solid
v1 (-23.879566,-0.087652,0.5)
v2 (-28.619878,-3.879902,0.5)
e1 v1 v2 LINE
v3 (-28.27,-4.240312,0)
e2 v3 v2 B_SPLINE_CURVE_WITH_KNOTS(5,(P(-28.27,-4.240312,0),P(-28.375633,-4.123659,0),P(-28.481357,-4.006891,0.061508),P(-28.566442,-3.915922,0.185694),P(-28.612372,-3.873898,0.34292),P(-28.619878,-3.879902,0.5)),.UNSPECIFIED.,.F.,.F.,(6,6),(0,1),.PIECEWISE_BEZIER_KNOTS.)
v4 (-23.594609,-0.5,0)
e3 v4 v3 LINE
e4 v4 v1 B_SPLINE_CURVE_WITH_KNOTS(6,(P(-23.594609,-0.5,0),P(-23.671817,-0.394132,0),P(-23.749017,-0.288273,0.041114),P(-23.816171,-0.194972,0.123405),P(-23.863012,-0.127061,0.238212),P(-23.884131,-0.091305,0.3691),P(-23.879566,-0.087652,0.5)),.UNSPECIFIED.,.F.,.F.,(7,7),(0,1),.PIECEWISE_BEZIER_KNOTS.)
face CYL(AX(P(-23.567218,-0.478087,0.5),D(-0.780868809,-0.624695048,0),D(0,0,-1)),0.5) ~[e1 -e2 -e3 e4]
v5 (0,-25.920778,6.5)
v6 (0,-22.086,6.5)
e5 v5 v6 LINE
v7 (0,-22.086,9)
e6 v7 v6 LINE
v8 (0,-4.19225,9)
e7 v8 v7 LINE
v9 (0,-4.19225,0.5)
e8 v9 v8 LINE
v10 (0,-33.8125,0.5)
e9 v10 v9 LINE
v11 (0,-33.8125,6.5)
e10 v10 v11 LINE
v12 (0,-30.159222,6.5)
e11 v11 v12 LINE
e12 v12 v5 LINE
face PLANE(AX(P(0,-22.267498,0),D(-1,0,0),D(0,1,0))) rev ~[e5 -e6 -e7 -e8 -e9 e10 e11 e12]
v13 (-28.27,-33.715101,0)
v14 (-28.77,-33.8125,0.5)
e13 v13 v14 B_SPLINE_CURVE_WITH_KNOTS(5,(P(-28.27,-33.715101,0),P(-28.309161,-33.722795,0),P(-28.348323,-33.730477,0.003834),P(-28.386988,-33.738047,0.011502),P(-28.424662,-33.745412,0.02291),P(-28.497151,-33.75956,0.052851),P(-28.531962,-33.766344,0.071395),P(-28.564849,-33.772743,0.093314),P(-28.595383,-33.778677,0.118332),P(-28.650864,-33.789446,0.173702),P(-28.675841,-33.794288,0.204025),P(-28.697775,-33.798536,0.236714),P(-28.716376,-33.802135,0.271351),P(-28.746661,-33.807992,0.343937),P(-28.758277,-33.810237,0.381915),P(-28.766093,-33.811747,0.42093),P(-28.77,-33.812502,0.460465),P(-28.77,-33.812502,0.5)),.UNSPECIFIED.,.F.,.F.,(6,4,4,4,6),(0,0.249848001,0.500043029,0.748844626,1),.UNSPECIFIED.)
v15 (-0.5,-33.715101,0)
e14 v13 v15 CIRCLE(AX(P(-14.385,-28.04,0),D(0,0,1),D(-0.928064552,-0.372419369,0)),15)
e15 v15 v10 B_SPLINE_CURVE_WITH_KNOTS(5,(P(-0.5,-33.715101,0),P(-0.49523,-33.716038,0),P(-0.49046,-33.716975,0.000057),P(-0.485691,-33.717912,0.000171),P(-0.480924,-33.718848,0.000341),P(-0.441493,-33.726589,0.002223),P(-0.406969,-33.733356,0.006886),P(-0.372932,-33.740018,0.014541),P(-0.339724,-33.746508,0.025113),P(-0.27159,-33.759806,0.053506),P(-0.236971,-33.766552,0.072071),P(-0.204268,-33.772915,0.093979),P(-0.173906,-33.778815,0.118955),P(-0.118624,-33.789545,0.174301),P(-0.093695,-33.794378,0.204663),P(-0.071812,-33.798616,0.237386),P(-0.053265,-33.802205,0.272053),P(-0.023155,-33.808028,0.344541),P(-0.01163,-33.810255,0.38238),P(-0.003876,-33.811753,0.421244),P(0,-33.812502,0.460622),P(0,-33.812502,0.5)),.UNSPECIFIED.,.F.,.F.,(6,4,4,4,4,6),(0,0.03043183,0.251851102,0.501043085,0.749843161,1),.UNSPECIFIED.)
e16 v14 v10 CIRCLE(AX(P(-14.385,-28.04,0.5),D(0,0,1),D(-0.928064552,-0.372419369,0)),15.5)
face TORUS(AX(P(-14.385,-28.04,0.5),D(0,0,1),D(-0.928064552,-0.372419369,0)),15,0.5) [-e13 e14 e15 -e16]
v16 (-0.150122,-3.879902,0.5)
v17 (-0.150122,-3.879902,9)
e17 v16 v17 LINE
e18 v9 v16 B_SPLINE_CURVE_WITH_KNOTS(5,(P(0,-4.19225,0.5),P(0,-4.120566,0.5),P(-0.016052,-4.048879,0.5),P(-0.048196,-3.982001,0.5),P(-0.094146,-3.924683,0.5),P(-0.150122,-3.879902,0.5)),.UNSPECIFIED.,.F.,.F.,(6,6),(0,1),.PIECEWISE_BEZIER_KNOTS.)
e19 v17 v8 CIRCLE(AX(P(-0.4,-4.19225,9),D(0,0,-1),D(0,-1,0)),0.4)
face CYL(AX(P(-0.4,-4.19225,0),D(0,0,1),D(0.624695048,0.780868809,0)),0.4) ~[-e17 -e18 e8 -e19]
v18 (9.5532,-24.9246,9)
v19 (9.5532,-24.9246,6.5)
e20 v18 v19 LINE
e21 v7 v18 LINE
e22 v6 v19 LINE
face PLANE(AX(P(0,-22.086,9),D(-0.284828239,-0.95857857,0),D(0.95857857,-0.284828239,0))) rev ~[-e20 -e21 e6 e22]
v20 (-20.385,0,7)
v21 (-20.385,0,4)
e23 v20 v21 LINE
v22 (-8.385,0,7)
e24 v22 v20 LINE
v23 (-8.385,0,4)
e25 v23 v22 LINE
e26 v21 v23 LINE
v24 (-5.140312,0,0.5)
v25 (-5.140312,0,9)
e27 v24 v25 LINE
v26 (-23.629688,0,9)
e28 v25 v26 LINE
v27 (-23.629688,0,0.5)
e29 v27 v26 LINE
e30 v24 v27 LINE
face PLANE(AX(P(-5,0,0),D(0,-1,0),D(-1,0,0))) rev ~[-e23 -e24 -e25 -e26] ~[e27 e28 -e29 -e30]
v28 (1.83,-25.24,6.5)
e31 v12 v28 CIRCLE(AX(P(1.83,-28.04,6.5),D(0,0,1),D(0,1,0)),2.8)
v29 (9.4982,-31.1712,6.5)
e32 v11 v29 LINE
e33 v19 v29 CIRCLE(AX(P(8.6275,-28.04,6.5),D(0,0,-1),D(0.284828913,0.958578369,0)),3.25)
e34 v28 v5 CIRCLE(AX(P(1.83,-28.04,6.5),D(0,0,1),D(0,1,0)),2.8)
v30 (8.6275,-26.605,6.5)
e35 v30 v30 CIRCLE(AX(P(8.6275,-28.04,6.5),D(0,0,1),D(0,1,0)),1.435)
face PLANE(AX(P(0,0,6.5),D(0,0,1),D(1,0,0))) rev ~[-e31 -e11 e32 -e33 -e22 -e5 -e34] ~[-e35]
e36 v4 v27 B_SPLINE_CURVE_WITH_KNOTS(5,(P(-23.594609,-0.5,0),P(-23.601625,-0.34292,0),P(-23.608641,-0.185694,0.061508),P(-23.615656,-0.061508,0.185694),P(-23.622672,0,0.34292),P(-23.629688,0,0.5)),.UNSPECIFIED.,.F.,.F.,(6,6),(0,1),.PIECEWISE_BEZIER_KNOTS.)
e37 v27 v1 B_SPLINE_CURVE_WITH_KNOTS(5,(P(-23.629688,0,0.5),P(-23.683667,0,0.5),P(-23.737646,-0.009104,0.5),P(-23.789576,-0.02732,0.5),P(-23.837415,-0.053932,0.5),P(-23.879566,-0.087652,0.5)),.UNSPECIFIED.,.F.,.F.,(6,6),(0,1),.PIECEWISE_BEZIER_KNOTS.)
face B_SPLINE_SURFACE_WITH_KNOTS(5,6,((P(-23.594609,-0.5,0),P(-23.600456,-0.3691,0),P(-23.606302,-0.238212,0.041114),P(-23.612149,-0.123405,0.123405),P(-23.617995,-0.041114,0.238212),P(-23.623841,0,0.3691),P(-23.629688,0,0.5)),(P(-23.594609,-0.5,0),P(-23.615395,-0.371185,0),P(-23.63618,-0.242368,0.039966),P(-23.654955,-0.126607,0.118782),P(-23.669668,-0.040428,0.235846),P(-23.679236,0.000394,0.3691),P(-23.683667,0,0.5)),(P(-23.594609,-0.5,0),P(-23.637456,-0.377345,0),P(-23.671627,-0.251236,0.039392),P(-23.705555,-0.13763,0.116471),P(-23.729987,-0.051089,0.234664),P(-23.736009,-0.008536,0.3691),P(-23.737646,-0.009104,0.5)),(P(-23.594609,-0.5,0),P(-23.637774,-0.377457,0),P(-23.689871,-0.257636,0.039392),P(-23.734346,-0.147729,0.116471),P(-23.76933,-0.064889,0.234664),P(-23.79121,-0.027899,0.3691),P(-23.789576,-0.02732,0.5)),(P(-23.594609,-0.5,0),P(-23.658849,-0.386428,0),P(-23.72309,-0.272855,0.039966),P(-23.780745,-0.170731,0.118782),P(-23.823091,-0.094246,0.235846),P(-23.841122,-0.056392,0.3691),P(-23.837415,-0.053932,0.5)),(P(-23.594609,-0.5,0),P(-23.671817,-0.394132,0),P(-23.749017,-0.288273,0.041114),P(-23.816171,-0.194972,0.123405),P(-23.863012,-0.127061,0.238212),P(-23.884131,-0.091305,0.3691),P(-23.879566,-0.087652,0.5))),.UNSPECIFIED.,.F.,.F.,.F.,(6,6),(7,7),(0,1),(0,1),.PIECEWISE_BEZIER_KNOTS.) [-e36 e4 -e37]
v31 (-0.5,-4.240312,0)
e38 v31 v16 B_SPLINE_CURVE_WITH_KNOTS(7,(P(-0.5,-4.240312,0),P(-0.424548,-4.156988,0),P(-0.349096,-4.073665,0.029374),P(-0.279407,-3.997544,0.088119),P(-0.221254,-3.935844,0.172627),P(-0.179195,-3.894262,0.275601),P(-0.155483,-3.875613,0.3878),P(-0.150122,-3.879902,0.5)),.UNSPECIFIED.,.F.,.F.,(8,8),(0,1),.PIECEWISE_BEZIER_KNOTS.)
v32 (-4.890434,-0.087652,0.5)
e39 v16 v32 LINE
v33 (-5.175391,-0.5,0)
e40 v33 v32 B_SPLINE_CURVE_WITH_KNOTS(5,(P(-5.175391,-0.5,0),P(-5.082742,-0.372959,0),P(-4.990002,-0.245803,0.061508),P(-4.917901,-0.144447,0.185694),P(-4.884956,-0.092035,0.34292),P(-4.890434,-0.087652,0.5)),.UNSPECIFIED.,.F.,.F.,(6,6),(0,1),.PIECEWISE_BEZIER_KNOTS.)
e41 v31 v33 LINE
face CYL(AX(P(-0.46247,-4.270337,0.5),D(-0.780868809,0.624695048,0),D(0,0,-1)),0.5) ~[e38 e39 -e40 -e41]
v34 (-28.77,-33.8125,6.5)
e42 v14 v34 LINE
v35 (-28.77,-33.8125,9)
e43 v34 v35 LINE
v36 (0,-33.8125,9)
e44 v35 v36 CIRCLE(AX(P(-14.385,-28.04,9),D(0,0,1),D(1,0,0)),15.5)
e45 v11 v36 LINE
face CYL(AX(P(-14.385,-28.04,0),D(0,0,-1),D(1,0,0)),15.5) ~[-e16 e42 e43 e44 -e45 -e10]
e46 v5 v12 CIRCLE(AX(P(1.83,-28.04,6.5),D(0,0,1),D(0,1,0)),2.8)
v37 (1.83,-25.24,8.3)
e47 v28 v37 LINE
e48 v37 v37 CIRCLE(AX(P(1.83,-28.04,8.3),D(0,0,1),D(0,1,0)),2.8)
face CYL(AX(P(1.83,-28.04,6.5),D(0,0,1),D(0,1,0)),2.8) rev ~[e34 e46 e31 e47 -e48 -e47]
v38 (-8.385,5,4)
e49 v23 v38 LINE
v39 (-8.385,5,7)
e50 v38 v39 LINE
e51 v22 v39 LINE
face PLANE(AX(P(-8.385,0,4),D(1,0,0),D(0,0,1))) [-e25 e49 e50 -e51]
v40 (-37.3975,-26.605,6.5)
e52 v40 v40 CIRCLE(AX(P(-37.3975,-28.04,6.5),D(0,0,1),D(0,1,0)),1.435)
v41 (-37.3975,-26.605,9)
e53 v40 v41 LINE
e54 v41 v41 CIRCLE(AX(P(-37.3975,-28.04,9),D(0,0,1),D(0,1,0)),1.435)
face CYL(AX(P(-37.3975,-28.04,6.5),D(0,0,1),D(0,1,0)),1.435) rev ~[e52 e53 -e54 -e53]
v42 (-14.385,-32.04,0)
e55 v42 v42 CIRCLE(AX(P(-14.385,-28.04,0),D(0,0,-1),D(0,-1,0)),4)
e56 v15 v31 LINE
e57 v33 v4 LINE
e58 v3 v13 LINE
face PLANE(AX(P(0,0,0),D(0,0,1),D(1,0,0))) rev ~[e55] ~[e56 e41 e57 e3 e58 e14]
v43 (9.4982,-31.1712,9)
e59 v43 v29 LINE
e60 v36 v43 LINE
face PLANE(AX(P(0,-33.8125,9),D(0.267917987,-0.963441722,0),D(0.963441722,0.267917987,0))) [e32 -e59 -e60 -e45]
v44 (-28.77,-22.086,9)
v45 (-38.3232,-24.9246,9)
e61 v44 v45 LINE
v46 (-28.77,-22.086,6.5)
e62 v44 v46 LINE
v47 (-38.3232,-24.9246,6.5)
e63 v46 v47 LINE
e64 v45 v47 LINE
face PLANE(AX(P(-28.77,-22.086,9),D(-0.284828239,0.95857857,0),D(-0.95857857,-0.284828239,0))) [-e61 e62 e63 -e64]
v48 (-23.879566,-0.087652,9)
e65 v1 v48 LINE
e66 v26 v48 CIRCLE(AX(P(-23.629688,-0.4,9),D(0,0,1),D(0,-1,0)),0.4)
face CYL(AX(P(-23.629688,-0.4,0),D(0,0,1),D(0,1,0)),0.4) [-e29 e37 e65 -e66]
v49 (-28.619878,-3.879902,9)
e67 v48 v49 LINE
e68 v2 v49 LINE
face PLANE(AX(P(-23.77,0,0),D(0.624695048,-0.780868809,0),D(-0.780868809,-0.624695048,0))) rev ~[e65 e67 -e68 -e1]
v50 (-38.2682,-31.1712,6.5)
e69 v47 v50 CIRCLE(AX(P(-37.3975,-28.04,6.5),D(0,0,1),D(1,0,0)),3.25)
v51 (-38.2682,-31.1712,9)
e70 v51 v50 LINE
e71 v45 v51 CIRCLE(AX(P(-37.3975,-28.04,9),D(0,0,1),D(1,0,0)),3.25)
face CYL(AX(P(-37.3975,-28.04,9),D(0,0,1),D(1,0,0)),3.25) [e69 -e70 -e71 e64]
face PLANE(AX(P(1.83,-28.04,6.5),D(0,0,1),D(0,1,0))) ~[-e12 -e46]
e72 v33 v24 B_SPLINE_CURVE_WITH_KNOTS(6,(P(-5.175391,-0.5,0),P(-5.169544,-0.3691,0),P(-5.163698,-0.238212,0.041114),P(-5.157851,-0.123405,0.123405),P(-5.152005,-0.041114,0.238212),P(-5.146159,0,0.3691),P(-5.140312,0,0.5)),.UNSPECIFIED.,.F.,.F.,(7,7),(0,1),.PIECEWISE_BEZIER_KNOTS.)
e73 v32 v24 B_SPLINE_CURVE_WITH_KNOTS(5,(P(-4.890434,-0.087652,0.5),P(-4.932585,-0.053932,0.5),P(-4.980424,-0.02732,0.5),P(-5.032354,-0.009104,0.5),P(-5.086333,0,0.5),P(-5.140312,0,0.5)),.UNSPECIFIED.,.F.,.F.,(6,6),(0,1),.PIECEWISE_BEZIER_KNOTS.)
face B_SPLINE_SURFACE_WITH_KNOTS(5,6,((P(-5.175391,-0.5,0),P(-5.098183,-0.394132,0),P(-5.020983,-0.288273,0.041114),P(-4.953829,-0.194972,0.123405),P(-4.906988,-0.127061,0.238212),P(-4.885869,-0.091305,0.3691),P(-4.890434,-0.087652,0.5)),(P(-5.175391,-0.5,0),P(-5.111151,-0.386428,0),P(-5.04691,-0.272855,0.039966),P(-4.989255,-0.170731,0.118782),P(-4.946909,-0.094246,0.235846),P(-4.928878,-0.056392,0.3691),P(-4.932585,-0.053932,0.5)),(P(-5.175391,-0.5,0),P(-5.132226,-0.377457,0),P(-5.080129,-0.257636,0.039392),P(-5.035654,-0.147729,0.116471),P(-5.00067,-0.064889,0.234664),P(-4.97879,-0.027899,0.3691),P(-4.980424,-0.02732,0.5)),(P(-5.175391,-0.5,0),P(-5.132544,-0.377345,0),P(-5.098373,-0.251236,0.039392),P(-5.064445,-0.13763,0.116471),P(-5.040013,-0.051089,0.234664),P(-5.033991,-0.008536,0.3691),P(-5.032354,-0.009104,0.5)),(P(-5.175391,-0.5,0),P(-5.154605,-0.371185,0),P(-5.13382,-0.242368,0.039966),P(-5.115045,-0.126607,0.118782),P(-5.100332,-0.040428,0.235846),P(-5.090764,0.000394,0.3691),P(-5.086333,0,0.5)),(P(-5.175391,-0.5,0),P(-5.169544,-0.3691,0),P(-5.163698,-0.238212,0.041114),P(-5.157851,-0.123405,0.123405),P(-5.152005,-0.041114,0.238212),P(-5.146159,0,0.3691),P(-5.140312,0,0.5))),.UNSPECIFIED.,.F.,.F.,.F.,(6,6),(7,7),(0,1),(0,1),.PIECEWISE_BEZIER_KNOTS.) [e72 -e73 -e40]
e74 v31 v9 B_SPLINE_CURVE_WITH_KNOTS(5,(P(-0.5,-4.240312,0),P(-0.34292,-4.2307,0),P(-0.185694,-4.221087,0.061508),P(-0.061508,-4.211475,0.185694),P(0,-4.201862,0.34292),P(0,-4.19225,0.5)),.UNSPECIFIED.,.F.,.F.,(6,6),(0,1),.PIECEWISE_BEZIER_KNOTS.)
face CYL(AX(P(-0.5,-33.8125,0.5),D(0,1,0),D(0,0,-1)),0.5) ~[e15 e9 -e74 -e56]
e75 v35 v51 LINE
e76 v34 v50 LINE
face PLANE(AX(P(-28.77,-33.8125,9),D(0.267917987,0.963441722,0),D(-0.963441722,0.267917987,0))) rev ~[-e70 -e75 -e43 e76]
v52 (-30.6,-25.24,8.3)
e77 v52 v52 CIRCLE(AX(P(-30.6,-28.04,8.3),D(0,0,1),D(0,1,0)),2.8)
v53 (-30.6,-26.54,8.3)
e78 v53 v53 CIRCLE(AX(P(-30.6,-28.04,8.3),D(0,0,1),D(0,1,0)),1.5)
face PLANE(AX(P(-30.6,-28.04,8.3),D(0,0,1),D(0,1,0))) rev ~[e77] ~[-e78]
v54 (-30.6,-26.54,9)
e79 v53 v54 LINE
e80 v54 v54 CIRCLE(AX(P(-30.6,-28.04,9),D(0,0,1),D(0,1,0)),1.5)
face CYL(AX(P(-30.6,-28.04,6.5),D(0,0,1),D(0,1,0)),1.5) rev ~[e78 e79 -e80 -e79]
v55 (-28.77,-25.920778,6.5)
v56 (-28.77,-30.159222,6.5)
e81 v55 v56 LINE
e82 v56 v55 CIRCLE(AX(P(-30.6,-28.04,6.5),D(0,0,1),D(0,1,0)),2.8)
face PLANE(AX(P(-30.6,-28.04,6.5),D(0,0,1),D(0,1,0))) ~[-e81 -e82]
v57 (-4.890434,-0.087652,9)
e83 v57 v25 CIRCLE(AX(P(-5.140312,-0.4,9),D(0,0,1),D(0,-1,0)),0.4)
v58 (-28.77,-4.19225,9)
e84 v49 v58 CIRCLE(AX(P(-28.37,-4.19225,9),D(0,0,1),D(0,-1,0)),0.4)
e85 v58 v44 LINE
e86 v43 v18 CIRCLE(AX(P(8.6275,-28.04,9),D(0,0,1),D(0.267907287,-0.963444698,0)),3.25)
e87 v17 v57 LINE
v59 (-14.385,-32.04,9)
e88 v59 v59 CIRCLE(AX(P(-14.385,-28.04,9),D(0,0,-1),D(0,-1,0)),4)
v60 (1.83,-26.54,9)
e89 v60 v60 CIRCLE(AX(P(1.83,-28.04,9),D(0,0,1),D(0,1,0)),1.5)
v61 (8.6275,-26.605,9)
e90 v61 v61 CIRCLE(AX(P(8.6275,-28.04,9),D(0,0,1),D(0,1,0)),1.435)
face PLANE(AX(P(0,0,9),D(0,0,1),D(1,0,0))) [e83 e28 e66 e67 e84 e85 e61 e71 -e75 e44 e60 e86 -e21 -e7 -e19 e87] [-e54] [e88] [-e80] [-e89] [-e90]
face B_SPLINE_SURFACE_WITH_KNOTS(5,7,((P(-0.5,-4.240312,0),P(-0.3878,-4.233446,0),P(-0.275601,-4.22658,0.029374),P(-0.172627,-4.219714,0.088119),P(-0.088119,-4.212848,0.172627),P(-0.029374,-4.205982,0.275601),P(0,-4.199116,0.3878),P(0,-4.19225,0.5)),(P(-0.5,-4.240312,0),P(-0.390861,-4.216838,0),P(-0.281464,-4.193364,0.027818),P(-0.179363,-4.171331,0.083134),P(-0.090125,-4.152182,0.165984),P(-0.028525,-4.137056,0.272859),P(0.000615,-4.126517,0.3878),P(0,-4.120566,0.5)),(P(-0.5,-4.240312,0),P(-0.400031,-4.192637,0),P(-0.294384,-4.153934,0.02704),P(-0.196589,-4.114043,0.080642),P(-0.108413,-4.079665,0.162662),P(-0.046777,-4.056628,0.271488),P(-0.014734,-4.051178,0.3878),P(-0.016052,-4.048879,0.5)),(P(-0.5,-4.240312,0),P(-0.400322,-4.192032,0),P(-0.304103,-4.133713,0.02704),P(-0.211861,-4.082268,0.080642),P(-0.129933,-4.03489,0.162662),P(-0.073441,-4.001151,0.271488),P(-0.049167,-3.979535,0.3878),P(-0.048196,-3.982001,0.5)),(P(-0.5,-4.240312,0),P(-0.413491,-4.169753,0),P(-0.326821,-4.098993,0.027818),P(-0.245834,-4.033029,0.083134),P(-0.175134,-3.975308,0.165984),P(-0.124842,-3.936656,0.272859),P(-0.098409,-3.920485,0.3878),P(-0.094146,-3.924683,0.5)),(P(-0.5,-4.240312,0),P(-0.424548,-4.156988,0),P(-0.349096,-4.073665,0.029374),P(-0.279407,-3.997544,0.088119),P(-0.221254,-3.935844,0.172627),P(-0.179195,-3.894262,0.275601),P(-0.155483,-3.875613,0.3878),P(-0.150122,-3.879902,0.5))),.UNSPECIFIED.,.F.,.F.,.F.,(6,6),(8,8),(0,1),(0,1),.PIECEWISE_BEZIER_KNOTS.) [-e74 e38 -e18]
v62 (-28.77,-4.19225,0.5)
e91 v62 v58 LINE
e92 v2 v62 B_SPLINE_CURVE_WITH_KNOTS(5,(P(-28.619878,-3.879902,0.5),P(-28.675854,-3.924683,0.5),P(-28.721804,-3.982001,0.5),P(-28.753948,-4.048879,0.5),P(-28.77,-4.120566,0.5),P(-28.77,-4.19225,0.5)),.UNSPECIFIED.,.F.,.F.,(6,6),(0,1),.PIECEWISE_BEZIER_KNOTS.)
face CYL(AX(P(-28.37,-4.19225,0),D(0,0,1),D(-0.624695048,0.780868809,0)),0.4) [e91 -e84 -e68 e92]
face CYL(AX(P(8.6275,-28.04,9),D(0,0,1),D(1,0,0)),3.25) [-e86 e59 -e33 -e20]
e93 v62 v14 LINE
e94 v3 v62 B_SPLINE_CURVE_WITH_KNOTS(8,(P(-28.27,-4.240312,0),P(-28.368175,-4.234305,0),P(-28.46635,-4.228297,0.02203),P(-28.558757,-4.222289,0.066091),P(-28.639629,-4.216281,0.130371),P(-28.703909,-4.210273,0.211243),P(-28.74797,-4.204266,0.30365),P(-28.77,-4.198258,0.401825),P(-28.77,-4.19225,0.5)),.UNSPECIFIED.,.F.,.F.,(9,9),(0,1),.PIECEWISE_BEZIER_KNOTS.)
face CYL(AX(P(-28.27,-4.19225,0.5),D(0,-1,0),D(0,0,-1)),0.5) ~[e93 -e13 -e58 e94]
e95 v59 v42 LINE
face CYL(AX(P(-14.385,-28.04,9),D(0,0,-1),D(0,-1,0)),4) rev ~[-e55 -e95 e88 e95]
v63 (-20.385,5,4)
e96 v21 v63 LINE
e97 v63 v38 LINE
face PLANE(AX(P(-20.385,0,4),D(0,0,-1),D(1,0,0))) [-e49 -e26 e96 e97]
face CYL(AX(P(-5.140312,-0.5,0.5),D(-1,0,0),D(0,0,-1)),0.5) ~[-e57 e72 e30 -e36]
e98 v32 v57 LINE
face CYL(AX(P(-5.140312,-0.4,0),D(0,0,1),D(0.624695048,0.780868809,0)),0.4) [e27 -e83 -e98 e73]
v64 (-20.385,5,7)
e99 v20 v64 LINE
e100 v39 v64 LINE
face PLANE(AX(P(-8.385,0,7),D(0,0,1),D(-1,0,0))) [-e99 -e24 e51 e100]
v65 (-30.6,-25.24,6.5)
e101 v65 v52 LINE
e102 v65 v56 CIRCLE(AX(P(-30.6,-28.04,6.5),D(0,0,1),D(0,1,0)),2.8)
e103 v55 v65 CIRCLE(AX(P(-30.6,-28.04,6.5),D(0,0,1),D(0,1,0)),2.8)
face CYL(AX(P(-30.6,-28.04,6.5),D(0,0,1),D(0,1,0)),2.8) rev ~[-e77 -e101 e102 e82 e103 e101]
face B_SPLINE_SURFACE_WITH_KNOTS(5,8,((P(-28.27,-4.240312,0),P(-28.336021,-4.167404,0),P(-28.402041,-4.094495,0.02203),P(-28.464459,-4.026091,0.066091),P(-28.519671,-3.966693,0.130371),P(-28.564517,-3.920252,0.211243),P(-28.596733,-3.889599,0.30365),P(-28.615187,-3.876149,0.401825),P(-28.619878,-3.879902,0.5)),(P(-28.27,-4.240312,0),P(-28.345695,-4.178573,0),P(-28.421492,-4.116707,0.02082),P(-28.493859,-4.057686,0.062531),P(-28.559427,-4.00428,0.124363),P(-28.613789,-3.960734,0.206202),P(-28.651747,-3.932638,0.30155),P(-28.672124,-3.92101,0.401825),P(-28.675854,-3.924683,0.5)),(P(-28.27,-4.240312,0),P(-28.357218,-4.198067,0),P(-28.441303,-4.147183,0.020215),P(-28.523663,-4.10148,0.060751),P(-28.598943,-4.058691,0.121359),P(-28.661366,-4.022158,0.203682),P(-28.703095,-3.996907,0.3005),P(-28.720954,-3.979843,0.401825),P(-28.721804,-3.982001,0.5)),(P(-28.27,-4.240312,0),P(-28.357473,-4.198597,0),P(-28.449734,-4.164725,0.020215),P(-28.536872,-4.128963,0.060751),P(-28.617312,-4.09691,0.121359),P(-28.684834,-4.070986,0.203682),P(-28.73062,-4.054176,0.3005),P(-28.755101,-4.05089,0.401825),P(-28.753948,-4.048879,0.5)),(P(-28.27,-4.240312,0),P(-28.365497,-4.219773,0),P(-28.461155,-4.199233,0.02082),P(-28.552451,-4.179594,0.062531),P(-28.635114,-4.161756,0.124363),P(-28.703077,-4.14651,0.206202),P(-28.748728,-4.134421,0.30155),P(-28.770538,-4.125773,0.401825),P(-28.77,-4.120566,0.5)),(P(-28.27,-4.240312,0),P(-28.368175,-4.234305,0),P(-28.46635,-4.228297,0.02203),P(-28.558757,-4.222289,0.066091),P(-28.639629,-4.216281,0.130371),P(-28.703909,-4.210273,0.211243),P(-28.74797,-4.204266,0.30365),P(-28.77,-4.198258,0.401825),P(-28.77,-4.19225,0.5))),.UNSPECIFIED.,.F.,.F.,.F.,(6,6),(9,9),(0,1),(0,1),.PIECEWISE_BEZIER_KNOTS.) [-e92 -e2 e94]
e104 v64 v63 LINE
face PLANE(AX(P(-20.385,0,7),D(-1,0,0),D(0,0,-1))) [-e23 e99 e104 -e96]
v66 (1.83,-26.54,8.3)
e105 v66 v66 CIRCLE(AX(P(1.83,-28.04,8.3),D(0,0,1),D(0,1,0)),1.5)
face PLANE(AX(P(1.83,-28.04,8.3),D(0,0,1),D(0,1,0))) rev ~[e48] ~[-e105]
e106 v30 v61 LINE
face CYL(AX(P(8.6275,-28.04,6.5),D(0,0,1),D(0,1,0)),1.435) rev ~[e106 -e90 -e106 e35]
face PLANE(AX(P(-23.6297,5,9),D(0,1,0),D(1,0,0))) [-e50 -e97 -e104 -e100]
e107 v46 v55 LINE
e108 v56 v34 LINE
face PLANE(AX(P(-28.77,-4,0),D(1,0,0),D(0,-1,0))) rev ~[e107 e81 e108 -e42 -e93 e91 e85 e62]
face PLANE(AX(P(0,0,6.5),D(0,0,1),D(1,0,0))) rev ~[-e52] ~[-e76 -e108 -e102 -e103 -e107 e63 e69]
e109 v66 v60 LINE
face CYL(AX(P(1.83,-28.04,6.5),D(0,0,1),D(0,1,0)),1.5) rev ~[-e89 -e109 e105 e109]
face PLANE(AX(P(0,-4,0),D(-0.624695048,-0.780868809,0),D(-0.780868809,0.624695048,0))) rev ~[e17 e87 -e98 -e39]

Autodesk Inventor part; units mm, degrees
ref_plane "YZ Plane" through (0, 0, 0) normal (1, 0, 0) x (0, 1, 0)
ref_plane "XZ Plane" through (0, 0, 0) normal (0, 1, 0) x (-1, 0, 0)
ref_plane "XY Plane" through (0, 0, 0) normal (0, 0, 1) x (1, 0, 0)
sketch "スケッチ1" plane through (0, 0, 0) normal (0, 0, 1) x (1, 0, 0)
  line L0 (0, 0) -> (-28.77, 0)
  line L1 (-28.77, 0) -> (-28.77, -33.8125)
  line L2 (-28.77, -33.8125) -> (0, -33.8125)
  line L3 (0, -33.8125) -> (0, 0)
  circle A0 centre (-14.385, -28.04) radius 15.5
  line L4 (0, -4) -> (-5, 0)
  line L5 (-23.77, 0) -> (-28.77, -4)
  dimension "d0" = 28.77
  dimension "d2" = 31
  dimension "d4" = 4
  dimension "d5" = 4
  dimension "d6" = 5
  dimension "d7" = 5
  dimension "d66" = 28.04
extrude "押し出し1" add sketch "スケッチ1" along normal blind 9 contours L4 L3 A0 L1 L5 L0 | L3 L2 L1 A0 | A0 L2
sketch "スケッチ2" plane through (0, 0, 9) normal (0, 0, 1) x (1, 0, 0)
  line L0 (-5, 0) -> (-23.77, 0) projected
  arc A0 (-28.77, -33.8125) -> (0, -33.8125) centre (-14.385, -28.04) ccw projected
  point P0 (0, 0)
hole "穴1" at (-14.385, -28.04, 9) direction (0, 0, -1) diameter 8 end through all
sketch "スケッチ3" plane through (0, 0, 9) normal (0, 0, 1) x (1, 0, 0)
  line L0 (-28.77, -33.8125) -> (-38.2682, -31.1712)
  line L1 (-28.77, -22.086) -> (-38.3232, -24.9246)
  circle A0 centre (-37.3975, -28.04) radius 3.25
  circle A1 centre (-14.385, -28.04) radius 4 projected
  line L2 (0, -33.8125) -> (9.4982, -31.1712)
  line L3 (0, -22.086) -> (9.5532, -24.9246)
  circle A2 centre (8.6275, -28.04) radius 3.25
  line L4 (-28.77, -4) -> (-28.77, -33.8125) projected
  line L5 (0, -33.8125) -> (0, -4) projected
  point P0 (0, 0)
  dimension "d19" = 5.954
  dimension "d20" = 6.5
  dimension "d53" = 46.025
  dimension "d54" = 23.0125
  dimension "d55" = 6.5
extrude "押し出し2" add sketch "スケッチ3" against normal blind 2.5 contours L0 A0 L1 L4 | A0 | L5 L3 A2 L2 | A2
sketch "スケッチ4" plane through (0, 0, 6.5) normal (0, 0, -1) x (-1, 0, 0)
  arc A0 (0, -33.8125) -> (28.77, -33.8125) centre (14.385, -28.04) ccw projected
  point P0 (0, 0)
  point P1 (30.6, -28.04)
  point P2 (-1.83, -28.04)
  dimension "d26" = 16.215
  dimension "d27" = 16.215
hole "穴2" at (-30.6, -28.04, 6.5) at (1.83, -28.04, 6.5) direction (0, 0, 1) diameter 3 end through all
sketch "スケッチ5" plane through (0, 0, 6.5) normal (0, 0, -1) x (-1, 0, 0)
  circle A0 centre (30.6, -28.04) radius 1.5 projected
  circle A1 centre (-1.83, -28.04) radius 1.5 projected
  point P0 (0, 0)
hole "穴3" at (-30.6, -28.04, 6.5) at (1.83, -28.04, 6.5) direction (0, 0, 1) diameter 5.6 depth 1.8
sketch "スケッチ6" plane through (0, 0, 6.5) normal (0, 0, -1) x (-1, 0, 0)
  circle A0 centre (14.385, -28.04) radius 4 projected
  point P0 (0, 0)
  point P1 (37.3975, -28.04)
  point P2 (-8.6275, -28.04)
  dimension "d43" = 23.0125
  dimension "d45" = 23.0125
hole "穴4" at (-37.3975, -28.04, 6.5) at (8.6275, -28.04, 6.5) at (-14.385, -28.04, 6.5) direction (0, 0, 1) diameter 2.87 end through all
fillet "フィレット1" radius 0.4 4 edges at (-28.77, -4, 4.5) (-23.77, 0, 4.5) (-5, 0, 4.5) (0, -4, 4.5)
fillet "フィレット2" radius 0.5 10 edges at (-28.7305, -4.019, 0) (-26.2497, -1.9838, 0) (-23.7621, -0.0225, 0) (-14.385, 0, 0) (-5.0079, -0.0225, 0) (-2.5203, -1.9838, 0) (-0.0395, -4.019, 0) (0, -19.0024, 0) (-28.77, -19.0024, 0) (-14.385, -43.54, 0)
sketch "スケッチ7" plane through (-23.6297, 0, 9) normal (0, 1, 0) x (1, 0, 0)
  line L0 (3.2447, 5) -> (15.2447, 5)
  line L1 (15.2447, 5) -> (15.2447, 2)
  line L2 (15.2447, 2) -> (3.2447, 2)
  line L3 (3.2447, 2) -> (3.2447, 5)
  line L4 (18.4894, 0) -> (0, 0) projected
  point P0 (23.6297, 9)
  dimension "d60" = 3
  dimension "d61" = 12
  dimension "d62" = 8.385
  dimension "d63" = 2
extrude "押し出し3" add sketch "スケッチ7" along normal blind 5
equation "\"d4\" = d5"
equation "\"d6\" = d7"
equation "\"d54\" = 0.5 * d53"
equation "\"d55\" = d20"
equation "\"d27\" = d26"
equation "\"d45\" = d43"
equation "\"d62\" = -0.5 * d61 + 0.5 * d0"
properties part number "AMT102-V"
